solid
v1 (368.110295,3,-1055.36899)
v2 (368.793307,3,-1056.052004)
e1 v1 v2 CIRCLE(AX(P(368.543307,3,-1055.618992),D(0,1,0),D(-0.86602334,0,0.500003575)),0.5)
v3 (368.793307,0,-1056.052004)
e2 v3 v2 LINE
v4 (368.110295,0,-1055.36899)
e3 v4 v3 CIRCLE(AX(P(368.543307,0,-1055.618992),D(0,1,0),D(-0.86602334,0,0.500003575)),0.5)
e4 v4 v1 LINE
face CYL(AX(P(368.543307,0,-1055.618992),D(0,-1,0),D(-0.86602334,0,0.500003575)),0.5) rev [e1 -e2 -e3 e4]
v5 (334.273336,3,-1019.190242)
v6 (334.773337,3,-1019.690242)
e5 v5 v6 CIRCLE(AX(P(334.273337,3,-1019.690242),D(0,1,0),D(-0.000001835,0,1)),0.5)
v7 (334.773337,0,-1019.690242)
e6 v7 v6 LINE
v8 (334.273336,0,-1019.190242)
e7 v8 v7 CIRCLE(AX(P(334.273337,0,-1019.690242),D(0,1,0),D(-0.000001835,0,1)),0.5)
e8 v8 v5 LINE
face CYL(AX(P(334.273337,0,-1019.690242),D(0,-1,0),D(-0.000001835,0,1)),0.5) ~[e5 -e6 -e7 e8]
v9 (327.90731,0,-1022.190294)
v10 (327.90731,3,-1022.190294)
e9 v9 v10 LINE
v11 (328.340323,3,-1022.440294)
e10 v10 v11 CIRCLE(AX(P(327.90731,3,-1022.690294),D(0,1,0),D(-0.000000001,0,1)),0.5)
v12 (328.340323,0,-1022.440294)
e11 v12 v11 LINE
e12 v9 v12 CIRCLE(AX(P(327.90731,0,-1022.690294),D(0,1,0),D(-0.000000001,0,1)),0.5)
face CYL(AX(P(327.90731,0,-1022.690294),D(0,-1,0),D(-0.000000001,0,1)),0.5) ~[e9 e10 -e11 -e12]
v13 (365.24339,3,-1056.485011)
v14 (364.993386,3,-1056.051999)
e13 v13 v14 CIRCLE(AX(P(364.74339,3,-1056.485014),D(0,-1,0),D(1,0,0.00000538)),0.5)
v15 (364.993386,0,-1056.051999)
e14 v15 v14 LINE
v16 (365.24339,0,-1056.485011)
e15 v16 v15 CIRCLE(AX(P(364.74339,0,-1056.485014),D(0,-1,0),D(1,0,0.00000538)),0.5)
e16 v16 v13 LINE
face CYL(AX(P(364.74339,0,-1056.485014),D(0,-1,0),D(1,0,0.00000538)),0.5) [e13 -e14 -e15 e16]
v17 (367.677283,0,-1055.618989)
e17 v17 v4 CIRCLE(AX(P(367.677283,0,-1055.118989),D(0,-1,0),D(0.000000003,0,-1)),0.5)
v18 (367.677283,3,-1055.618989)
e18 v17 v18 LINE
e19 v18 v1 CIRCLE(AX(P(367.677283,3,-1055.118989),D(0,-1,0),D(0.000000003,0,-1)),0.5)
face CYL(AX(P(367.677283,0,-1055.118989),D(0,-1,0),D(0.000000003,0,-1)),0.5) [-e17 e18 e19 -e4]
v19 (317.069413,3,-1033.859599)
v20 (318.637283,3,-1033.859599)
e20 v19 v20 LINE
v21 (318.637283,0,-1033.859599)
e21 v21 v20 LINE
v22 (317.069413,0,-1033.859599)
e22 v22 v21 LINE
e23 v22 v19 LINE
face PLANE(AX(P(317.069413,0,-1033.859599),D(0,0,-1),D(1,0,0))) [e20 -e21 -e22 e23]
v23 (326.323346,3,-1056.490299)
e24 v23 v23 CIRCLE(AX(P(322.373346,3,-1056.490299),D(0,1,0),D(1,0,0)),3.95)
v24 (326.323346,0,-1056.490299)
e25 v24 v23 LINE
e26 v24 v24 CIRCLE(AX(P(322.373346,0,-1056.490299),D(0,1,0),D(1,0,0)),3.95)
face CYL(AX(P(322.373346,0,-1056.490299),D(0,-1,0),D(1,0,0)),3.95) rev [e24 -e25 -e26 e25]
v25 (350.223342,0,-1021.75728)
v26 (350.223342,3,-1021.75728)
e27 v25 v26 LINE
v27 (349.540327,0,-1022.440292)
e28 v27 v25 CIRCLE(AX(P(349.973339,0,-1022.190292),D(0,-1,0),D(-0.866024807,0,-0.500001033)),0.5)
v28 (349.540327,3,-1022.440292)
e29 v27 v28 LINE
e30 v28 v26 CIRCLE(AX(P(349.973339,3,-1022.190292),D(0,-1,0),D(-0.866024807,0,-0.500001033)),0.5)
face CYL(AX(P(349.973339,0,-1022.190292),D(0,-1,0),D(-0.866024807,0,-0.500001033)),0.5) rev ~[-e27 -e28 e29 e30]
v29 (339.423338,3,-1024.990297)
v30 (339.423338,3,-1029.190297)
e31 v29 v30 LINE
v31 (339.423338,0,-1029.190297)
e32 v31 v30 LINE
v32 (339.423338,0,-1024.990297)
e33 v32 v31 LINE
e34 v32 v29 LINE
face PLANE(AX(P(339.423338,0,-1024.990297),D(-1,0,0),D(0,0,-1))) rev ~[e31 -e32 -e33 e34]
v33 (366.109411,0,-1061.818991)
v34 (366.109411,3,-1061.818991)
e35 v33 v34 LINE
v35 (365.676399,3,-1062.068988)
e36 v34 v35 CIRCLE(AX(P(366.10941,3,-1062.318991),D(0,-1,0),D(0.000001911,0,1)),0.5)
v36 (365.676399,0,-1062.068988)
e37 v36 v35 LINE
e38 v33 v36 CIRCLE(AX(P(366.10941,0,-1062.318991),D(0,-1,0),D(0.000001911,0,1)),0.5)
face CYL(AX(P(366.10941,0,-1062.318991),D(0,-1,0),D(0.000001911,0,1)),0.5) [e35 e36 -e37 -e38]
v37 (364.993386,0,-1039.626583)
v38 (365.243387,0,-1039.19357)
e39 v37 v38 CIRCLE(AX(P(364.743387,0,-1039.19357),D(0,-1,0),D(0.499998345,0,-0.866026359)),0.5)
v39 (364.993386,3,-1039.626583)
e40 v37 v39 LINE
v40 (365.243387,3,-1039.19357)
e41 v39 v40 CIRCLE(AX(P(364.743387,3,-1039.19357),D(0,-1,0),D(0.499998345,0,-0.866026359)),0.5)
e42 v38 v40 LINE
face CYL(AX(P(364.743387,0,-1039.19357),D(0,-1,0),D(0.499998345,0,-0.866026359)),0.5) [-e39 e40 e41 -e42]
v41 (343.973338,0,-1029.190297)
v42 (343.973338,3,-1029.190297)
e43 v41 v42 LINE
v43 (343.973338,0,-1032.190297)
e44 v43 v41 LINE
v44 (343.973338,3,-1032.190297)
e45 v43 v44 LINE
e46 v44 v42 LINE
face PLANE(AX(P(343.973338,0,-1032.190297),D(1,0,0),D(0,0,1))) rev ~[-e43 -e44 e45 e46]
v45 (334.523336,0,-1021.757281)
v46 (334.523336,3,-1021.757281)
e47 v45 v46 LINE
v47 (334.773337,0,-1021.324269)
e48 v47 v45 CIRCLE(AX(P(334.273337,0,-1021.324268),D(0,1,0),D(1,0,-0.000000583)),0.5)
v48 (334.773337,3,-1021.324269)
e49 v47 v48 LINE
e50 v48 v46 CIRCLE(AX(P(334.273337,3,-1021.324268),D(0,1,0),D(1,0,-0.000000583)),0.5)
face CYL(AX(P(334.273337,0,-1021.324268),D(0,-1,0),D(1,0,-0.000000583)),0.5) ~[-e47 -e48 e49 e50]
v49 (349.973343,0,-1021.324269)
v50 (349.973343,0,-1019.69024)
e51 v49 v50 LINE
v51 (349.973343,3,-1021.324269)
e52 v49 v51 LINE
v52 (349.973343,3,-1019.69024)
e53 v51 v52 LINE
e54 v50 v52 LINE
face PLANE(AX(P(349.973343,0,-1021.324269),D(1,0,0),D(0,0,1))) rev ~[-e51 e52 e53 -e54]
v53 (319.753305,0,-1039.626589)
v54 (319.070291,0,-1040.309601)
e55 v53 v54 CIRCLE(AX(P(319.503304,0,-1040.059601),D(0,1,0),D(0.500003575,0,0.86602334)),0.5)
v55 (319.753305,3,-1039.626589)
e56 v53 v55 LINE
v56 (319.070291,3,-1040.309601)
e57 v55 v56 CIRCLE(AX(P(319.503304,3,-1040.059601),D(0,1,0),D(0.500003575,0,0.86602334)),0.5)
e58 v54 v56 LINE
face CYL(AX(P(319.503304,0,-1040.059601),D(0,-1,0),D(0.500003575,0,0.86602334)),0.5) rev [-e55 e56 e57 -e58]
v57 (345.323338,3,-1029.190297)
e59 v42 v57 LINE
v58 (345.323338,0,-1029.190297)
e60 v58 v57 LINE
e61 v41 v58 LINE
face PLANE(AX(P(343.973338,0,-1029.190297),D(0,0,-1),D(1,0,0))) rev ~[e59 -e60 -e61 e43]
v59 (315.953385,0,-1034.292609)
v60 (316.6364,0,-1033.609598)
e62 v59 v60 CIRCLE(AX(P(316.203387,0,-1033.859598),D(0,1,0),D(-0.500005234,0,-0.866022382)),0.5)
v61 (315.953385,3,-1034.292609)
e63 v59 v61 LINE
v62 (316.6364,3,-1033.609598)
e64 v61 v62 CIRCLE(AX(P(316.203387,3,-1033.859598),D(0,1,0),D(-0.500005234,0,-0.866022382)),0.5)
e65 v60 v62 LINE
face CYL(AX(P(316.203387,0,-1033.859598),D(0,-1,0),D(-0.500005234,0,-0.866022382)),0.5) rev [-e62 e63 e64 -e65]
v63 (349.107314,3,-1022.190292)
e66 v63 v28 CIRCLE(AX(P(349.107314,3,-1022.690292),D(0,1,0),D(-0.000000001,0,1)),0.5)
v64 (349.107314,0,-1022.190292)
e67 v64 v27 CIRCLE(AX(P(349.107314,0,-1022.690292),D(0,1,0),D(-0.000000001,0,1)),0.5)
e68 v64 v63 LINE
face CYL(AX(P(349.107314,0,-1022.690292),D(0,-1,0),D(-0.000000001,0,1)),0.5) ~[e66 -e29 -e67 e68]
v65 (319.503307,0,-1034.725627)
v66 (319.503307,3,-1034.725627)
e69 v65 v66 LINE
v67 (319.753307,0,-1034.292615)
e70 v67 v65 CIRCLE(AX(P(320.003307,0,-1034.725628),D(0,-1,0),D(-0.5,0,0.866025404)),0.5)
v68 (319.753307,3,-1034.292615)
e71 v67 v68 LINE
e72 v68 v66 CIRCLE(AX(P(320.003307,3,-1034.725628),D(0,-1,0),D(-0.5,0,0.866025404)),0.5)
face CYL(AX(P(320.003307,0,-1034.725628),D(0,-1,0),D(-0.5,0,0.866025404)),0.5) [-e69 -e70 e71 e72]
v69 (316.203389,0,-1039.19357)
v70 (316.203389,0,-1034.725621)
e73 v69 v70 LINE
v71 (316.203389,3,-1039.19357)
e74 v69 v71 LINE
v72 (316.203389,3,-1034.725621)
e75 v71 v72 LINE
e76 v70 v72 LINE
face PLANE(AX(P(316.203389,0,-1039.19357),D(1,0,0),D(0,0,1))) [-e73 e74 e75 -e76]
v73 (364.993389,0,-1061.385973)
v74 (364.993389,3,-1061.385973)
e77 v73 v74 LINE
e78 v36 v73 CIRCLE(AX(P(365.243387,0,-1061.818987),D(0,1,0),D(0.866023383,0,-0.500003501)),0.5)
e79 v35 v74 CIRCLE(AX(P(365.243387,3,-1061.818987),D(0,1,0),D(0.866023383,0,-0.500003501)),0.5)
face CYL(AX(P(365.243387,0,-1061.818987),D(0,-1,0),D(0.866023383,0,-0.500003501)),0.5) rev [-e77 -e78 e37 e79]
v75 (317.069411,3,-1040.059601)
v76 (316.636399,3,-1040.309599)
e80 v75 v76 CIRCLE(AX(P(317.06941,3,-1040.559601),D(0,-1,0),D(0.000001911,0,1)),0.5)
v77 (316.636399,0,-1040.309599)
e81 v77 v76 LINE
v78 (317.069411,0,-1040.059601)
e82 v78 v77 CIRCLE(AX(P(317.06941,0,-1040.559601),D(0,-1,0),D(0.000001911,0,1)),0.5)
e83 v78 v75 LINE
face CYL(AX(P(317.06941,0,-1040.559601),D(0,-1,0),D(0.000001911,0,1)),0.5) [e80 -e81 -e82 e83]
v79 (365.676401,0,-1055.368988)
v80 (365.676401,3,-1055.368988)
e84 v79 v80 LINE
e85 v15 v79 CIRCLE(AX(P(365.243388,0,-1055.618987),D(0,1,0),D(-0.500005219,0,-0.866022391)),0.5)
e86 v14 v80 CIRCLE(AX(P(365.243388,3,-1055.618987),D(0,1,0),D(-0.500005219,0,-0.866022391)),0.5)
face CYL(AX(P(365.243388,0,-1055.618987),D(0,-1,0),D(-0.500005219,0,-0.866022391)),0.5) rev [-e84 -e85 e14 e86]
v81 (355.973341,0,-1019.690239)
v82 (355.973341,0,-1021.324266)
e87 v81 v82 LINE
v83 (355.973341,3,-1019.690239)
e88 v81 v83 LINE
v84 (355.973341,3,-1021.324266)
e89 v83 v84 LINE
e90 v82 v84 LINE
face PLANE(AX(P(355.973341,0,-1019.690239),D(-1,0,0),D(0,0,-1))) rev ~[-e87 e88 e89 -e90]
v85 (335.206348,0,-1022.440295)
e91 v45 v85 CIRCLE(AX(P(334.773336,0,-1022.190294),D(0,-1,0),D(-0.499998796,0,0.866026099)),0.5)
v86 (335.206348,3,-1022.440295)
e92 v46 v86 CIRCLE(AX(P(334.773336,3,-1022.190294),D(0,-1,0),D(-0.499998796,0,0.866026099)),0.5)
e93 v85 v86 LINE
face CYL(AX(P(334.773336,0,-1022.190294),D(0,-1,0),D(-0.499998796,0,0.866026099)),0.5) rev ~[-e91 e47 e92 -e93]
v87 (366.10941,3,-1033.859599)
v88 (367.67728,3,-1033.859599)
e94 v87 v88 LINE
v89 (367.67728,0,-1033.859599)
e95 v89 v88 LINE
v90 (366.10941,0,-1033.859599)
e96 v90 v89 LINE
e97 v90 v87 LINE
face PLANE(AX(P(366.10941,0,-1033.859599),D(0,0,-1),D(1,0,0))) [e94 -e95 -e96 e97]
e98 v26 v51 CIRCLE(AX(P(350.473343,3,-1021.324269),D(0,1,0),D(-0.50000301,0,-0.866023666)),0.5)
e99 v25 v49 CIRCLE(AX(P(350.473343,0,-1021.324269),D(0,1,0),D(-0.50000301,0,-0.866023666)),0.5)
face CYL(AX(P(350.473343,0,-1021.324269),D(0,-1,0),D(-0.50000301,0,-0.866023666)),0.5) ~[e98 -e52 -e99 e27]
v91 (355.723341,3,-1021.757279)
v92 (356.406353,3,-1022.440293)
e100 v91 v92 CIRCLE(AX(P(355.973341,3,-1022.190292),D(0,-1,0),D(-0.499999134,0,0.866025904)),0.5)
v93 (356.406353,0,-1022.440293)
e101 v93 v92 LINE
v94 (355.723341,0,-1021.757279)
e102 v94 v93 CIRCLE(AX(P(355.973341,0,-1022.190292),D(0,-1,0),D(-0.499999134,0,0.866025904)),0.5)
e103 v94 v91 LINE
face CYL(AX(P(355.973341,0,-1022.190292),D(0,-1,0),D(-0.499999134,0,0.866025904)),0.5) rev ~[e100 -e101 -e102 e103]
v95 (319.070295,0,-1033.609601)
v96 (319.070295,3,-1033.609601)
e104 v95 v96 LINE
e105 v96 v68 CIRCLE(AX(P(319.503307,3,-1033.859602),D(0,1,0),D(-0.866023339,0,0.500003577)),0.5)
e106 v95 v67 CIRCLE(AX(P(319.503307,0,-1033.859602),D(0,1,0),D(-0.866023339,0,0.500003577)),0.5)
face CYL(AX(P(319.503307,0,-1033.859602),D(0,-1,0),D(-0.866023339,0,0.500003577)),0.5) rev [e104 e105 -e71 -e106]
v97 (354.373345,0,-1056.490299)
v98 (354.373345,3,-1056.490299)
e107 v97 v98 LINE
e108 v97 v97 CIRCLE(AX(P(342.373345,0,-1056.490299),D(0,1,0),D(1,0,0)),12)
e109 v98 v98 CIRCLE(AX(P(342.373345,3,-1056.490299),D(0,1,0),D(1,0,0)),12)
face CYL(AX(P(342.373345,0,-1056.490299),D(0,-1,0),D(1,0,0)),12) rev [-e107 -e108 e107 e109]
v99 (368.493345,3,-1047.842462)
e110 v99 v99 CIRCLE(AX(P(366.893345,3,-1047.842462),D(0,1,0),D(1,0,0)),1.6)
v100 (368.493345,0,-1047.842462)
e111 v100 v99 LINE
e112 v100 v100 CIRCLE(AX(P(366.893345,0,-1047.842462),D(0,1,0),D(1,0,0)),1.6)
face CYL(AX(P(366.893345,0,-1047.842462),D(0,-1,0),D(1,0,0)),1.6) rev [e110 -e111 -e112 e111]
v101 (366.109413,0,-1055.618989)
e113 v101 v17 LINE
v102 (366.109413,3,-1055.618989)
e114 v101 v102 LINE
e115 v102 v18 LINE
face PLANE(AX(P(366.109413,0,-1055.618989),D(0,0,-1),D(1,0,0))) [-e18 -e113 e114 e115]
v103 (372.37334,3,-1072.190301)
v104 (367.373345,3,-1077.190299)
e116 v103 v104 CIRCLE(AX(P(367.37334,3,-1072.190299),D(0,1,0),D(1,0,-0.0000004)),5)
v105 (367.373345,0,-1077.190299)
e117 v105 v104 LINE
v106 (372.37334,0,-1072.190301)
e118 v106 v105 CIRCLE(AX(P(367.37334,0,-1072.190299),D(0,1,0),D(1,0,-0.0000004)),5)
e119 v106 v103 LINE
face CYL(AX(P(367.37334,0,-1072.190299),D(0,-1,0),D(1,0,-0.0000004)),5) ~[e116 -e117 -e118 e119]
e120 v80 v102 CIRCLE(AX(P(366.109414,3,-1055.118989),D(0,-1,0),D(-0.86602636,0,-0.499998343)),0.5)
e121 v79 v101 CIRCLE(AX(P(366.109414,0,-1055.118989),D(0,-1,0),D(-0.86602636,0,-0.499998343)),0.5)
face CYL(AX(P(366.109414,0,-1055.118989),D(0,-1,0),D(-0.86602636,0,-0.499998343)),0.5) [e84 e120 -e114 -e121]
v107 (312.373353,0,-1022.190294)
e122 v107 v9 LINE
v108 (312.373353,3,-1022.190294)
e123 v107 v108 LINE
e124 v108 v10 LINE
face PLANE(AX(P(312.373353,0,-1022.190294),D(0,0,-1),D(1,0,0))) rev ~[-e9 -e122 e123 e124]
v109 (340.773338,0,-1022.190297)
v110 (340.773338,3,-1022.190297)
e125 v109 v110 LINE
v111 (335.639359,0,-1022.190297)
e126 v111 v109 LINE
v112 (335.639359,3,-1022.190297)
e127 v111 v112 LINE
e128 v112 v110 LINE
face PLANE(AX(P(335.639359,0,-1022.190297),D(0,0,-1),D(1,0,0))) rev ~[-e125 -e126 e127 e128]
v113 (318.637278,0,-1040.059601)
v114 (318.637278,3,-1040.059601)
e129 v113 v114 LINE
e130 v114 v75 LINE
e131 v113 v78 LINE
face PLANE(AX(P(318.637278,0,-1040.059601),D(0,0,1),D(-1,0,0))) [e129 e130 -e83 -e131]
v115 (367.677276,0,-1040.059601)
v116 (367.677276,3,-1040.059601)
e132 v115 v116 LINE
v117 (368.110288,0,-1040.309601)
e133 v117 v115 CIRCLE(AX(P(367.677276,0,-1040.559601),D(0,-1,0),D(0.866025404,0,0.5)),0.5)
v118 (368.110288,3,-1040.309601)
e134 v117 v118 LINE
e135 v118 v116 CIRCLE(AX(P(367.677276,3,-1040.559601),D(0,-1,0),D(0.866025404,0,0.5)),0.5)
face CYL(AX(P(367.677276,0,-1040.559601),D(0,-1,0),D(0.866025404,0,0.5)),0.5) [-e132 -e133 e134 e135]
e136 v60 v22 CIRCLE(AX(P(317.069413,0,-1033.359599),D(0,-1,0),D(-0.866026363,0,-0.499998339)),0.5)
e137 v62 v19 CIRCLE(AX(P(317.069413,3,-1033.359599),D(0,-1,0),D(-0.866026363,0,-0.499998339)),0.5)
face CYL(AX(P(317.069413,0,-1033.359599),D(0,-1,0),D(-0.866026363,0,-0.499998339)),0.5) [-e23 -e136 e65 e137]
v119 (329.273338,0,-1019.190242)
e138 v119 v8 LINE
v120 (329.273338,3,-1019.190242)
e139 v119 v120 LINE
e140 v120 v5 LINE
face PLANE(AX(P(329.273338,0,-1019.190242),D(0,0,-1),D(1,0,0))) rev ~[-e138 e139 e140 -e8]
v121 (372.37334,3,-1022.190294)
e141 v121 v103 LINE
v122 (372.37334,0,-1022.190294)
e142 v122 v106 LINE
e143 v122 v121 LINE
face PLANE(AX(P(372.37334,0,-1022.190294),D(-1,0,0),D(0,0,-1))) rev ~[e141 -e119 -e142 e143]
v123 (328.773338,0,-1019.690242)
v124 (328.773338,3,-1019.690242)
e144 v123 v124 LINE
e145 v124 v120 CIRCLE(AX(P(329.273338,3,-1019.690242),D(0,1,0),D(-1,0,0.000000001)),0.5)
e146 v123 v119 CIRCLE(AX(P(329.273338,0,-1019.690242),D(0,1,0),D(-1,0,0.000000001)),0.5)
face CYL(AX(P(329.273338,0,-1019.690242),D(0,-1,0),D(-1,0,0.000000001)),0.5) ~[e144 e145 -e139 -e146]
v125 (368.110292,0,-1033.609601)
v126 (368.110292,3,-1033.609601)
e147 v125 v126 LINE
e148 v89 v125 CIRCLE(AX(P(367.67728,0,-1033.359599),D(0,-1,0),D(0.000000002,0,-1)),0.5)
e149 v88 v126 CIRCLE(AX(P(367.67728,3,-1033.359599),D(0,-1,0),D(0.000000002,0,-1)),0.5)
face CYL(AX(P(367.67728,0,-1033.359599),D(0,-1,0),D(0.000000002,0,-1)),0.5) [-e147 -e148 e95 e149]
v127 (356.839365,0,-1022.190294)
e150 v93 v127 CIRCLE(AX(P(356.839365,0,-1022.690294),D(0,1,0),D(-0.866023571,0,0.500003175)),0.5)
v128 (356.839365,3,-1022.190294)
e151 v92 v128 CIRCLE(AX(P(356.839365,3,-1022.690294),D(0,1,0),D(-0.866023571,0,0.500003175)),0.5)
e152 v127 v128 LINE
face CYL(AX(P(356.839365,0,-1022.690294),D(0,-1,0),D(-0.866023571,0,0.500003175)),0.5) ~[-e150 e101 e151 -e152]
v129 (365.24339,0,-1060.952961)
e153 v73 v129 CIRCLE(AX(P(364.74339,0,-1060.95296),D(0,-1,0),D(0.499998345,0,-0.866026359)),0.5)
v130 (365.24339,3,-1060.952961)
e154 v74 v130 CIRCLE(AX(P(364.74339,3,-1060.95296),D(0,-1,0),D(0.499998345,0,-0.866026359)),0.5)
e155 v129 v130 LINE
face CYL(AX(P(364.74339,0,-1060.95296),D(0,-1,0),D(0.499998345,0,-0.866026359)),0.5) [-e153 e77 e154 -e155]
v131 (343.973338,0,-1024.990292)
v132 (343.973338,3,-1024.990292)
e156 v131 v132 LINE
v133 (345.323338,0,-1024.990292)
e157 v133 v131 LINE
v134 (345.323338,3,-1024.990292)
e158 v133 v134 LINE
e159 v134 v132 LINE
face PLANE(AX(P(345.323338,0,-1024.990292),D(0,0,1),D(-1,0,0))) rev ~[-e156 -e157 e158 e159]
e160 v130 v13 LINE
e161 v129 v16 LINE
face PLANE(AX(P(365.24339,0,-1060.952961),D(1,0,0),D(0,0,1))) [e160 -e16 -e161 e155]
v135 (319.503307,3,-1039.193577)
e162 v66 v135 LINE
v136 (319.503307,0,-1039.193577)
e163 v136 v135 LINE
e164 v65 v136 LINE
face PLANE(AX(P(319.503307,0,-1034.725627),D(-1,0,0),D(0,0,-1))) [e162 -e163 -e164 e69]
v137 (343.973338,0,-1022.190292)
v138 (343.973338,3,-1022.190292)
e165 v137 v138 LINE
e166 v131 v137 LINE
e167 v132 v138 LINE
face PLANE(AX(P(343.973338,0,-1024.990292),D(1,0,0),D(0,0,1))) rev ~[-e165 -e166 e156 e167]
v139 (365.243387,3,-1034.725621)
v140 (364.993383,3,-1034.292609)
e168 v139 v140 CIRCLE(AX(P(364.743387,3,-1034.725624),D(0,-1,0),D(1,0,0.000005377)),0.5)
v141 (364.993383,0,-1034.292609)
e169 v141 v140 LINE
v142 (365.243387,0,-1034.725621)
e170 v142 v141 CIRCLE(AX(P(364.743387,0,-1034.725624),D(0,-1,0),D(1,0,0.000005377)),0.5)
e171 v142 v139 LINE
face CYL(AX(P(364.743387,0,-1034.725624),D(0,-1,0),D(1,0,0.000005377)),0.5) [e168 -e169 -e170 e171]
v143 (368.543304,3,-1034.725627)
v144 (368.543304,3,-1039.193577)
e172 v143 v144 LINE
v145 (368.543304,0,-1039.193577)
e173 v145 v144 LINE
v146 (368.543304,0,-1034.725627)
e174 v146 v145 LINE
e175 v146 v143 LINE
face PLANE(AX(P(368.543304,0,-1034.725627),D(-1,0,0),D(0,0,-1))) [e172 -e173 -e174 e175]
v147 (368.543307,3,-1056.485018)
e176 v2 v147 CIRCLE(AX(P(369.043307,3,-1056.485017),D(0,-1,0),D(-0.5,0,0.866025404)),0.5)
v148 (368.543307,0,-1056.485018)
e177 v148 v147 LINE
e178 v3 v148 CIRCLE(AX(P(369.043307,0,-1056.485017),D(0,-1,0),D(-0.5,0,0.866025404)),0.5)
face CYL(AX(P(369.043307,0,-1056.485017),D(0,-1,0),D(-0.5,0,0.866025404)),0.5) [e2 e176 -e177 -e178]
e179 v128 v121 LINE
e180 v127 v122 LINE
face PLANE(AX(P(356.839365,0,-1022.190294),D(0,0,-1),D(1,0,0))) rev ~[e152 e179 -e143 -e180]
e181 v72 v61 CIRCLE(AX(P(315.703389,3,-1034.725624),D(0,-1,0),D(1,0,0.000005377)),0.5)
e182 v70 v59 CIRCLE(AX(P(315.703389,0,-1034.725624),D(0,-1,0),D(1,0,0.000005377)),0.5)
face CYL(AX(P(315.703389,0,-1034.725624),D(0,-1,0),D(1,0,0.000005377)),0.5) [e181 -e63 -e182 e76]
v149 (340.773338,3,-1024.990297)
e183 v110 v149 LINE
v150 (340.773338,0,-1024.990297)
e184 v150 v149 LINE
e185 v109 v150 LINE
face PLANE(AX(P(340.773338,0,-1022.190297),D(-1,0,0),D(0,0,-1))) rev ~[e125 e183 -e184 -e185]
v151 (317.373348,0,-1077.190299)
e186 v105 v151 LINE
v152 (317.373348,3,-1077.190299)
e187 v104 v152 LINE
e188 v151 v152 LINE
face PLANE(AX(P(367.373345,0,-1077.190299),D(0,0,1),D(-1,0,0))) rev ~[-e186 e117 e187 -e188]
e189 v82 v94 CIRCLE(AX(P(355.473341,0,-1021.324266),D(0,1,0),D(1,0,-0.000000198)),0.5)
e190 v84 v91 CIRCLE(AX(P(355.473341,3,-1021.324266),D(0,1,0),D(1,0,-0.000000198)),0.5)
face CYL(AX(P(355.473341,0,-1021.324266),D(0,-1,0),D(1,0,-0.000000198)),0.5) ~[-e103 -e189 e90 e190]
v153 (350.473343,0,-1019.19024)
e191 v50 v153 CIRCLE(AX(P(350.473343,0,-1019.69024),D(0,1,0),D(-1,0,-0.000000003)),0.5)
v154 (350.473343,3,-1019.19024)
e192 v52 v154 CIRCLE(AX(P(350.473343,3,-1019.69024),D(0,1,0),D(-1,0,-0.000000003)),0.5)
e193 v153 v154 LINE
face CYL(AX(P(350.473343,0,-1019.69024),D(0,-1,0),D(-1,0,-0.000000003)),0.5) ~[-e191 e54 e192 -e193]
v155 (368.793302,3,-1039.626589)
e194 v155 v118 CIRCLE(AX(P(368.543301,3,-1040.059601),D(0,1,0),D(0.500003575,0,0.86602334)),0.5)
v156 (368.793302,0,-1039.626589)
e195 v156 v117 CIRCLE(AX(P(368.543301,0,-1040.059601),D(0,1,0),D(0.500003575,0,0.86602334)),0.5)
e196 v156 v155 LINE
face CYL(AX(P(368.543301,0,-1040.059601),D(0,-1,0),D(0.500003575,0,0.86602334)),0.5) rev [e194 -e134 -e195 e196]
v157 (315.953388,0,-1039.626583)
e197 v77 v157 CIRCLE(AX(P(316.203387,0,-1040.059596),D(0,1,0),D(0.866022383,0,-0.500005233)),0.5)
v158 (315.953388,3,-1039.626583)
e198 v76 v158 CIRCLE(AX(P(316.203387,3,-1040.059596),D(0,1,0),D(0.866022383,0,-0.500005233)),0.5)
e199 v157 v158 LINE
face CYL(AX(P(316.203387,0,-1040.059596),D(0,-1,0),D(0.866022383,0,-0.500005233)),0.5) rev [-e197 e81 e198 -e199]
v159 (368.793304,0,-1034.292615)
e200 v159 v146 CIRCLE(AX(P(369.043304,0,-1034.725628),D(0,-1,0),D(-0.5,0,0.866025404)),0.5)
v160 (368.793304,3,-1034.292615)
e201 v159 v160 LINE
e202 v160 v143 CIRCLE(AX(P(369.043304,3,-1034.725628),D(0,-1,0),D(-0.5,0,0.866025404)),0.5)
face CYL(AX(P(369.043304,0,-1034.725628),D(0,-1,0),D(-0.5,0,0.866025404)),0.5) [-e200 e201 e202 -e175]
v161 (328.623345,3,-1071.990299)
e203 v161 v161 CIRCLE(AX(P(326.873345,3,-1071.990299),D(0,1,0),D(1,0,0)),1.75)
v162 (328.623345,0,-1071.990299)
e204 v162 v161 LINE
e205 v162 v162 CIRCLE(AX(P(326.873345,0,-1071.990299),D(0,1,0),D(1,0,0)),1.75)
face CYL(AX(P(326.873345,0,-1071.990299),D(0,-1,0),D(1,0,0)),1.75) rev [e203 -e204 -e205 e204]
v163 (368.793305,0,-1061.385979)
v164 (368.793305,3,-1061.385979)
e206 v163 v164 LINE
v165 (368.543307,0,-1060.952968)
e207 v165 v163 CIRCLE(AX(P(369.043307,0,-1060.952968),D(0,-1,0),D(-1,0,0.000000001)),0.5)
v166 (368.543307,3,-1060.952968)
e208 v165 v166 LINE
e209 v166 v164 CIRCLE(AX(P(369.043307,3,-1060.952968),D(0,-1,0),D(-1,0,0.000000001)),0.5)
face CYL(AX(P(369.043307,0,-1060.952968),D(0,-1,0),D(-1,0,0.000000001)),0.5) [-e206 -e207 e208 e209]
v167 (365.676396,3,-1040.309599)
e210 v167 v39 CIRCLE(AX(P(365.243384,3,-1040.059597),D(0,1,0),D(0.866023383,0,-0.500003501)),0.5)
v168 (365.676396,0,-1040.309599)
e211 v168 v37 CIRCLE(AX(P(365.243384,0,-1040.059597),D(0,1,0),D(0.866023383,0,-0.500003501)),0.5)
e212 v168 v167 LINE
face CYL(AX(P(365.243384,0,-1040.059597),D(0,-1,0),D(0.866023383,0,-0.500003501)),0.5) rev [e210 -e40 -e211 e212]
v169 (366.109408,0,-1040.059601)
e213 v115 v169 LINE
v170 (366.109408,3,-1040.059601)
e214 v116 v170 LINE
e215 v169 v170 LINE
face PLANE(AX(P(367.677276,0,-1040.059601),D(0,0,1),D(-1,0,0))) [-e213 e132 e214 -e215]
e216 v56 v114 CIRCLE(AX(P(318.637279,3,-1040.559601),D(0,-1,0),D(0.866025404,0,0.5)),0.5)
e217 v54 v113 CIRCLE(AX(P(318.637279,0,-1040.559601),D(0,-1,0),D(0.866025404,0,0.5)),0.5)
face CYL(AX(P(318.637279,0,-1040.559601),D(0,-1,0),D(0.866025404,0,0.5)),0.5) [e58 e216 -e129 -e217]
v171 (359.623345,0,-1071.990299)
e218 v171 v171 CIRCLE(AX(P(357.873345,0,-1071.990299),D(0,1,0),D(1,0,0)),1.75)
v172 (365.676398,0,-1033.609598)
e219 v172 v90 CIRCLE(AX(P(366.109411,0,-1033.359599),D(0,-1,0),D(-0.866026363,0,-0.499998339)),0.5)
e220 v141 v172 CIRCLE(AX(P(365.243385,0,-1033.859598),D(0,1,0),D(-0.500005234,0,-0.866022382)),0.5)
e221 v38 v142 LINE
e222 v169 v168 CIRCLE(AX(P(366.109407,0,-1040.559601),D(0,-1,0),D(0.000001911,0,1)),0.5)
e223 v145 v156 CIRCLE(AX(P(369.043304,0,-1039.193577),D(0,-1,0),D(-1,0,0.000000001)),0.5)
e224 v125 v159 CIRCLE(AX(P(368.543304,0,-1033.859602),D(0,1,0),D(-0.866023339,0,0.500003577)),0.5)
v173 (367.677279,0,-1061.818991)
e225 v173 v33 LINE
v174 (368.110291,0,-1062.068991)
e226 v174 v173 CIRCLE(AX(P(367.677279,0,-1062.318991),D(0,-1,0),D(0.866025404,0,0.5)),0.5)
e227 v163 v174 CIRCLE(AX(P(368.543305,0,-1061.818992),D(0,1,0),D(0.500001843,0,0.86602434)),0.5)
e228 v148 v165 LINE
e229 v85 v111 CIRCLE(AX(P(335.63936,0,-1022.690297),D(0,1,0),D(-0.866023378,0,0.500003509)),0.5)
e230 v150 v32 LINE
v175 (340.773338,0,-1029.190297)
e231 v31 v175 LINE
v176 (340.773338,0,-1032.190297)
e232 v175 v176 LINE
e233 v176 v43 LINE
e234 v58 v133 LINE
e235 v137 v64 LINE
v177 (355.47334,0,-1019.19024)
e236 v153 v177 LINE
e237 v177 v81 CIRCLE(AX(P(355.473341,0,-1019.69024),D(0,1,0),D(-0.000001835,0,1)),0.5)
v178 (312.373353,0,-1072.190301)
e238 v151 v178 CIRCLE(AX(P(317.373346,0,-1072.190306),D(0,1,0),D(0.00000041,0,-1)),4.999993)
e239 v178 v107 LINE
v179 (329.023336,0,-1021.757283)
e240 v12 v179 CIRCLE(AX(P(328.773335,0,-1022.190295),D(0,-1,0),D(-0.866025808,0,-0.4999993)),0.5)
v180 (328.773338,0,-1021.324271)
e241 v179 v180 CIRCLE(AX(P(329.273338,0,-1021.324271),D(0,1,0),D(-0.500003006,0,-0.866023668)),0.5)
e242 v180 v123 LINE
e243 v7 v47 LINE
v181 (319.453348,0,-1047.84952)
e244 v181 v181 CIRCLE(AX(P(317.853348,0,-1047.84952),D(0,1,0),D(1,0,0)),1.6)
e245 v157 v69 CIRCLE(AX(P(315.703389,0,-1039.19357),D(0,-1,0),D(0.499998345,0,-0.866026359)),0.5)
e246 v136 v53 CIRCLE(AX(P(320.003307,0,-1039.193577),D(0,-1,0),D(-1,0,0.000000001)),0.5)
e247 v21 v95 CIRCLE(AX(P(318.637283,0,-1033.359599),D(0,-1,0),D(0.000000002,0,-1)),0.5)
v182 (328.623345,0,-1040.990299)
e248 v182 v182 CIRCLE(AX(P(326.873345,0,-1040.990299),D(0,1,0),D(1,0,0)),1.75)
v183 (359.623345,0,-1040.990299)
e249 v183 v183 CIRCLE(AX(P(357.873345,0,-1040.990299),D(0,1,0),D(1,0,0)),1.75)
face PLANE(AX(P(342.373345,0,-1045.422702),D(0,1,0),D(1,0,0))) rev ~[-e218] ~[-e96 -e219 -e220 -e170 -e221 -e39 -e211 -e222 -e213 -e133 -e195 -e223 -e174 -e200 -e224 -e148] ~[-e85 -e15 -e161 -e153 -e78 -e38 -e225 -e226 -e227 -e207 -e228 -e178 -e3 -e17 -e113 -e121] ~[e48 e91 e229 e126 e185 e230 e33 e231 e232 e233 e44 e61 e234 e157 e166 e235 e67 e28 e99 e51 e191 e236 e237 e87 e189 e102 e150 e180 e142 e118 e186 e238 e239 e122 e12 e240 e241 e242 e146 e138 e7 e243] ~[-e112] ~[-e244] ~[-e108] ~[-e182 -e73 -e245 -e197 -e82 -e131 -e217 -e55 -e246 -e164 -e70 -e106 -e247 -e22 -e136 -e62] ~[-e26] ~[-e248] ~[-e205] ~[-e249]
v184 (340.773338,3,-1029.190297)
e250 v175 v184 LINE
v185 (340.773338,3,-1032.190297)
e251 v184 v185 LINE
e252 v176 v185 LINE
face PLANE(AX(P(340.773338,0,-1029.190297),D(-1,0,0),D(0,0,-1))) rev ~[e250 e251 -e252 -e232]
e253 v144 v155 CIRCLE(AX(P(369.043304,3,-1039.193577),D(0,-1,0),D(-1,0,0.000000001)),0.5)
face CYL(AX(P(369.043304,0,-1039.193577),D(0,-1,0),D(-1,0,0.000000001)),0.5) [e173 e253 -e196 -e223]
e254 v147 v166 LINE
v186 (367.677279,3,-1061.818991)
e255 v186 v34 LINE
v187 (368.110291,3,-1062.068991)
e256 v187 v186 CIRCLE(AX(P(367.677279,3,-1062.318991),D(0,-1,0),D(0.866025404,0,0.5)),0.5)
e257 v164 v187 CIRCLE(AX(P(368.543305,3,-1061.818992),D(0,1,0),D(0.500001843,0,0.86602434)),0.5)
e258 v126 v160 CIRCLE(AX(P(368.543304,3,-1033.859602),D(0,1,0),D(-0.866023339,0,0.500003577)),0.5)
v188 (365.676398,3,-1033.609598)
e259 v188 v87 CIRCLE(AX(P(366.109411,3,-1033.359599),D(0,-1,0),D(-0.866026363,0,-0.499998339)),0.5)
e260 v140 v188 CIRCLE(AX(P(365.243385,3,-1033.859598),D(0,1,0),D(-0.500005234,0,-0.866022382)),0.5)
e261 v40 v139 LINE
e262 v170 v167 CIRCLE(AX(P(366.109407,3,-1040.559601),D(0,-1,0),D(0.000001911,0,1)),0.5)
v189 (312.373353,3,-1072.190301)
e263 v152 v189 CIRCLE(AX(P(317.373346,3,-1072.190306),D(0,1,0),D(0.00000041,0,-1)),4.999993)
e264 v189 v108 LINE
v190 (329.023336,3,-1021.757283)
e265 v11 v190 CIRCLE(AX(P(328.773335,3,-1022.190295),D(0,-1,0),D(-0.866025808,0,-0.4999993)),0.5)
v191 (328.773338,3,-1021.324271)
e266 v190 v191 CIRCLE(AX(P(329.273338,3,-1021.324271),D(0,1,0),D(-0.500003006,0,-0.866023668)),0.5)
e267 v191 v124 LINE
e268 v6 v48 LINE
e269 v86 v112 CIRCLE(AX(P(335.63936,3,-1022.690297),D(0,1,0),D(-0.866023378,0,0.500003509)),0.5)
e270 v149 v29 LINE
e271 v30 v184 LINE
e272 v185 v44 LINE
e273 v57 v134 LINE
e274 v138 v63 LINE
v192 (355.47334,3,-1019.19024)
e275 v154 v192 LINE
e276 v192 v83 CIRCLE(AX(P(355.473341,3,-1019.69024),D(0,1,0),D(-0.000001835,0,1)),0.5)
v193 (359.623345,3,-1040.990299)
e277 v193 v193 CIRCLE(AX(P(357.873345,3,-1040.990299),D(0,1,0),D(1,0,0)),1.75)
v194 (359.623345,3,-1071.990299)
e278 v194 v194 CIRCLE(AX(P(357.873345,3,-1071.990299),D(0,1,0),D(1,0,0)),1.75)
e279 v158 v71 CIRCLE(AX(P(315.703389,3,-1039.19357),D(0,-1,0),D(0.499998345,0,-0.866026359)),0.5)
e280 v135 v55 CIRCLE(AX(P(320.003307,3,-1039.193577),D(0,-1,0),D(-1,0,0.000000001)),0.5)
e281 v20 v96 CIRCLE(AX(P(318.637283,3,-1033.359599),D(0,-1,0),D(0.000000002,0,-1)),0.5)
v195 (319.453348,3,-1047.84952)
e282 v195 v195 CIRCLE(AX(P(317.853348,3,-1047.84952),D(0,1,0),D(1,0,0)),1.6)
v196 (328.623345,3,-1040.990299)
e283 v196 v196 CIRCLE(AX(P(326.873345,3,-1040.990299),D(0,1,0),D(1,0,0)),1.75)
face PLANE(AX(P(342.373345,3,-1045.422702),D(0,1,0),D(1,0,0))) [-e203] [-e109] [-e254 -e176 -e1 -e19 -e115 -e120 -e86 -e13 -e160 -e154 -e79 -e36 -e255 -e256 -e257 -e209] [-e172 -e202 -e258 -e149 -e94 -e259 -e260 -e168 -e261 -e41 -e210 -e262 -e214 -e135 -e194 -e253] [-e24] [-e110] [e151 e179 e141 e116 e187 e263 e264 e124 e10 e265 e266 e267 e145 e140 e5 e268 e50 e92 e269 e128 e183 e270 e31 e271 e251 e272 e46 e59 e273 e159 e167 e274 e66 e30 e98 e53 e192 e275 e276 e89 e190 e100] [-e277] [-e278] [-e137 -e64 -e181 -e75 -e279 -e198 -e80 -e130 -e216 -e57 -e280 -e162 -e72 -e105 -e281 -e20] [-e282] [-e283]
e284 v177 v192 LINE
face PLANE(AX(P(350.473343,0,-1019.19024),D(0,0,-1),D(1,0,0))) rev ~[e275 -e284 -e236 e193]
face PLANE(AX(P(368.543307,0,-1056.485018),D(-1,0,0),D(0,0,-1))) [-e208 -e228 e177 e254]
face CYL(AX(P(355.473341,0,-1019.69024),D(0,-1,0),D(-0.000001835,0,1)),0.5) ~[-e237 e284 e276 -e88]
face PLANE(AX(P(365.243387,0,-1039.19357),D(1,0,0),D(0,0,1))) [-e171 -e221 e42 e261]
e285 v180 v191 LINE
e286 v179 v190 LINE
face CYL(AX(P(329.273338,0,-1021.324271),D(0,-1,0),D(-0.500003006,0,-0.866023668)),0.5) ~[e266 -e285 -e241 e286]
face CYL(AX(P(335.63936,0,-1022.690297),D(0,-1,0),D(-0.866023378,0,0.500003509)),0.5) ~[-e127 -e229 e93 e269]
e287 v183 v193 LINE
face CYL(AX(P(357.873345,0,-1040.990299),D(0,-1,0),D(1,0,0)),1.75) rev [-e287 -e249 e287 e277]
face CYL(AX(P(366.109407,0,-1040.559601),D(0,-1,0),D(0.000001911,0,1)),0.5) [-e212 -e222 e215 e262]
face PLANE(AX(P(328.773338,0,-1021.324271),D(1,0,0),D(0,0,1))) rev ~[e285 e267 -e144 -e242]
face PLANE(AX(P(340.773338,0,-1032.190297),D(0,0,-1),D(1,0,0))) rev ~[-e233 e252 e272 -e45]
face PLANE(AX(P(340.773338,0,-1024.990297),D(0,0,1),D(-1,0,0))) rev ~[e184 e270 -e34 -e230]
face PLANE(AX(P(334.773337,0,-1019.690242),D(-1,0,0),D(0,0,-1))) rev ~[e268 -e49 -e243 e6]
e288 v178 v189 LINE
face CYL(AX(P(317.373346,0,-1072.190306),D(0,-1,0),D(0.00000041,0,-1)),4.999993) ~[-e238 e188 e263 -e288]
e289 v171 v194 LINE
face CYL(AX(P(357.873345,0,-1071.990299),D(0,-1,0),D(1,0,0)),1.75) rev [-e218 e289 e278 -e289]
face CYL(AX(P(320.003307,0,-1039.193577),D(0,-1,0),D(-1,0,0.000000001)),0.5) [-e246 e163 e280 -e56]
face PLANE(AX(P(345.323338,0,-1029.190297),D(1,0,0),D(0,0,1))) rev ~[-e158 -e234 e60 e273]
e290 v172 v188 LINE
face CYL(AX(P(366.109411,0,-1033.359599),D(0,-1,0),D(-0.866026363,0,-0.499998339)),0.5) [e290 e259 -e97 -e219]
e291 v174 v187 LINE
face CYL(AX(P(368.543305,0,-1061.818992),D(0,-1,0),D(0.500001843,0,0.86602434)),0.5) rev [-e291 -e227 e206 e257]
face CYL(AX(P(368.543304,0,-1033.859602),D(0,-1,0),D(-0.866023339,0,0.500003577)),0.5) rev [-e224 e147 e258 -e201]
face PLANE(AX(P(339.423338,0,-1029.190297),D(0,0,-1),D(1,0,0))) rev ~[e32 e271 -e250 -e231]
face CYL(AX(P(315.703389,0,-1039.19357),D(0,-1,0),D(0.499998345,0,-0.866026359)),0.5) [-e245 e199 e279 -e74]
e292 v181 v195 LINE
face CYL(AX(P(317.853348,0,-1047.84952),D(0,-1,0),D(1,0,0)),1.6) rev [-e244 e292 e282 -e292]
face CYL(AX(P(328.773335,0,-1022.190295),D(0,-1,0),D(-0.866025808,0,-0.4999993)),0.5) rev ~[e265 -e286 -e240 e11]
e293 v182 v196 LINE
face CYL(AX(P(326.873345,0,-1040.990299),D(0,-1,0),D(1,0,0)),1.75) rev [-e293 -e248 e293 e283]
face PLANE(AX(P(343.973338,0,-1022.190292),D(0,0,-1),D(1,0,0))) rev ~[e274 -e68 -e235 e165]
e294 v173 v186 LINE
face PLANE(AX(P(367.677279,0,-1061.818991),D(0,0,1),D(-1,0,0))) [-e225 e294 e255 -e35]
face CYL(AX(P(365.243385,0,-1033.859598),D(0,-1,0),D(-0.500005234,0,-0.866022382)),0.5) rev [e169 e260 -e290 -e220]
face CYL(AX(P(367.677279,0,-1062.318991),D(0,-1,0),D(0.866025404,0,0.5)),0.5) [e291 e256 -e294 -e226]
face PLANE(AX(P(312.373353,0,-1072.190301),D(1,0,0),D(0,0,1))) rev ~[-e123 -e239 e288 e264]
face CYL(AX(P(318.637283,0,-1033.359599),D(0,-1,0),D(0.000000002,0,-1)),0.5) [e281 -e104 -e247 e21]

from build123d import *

# Parameters (mm, degrees)
SKETCH1_R           = 1.6
SKETCH1_R_2         = 1.75
SKETCH1_R_3         = 3.95
SKETCH1_R_4         = 12
BOSS_EXTRUDE1_DEPTH = 3


with BuildPart() as part:
    # Sketch1 → Boss-Extrude1 (new body)
    with BuildSketch(Plane(origin=(0, 0, 0), x_dir=(1, 0, 0), z_dir=(0, 1, 0))):
        with BuildLine():
            Line((312.373352996, 1022.190294437), (327.907309833, 1022.190294437))
            ThreePointArc((327.907309833, 1022.190294437), (328.157309833, 1022.257281735), (328.340322535, 1022.440294437))
            ThreePointArc((328.340322535, 1022.440294437), (329.126888323, 1022.543848684), (329.023336329, 1021.757282599))
            ThreePointArc((329.023336329, 1021.757282599), (328.840324865, 1021.574270305), (328.773337833, 1021.324271437))
            Line((328.773337833, 1021.324271437), (328.773337833, 1019.690242437))
            ThreePointArc((328.773337833, 1019.690242437), (328.919784442, 1019.336689047), (329.273337833, 1019.190242437))
            Line((329.273337833, 1019.190242437), (334.273335833, 1019.190242437))
            ThreePointArc((334.273335833, 1019.190242437), (334.626889492, 1019.336688397), (334.773336751, 1019.690241519))
            Line((334.773336751, 1019.690241519), (334.773336751, 1021.324268519))
            ThreePointArc((334.773336751, 1021.324268519), (334.706349307, 1021.57426848), (334.523336498, 1021.757281075))
            ThreePointArc((334.523336498, 1021.757281075), (334.419781792, 1022.543846802), (335.206347937, 1022.440295269))
            ThreePointArc((335.206347937, 1022.440295269), (335.389360338, 1022.257283911), (335.639359245, 1022.190297025))
            Line((335.639359245, 1022.190297025), (340.773337745, 1022.190297025))
            Line((340.773337745, 1022.190297025), (340.773337745, 1024.990297025))
            Line((340.773337745, 1024.990297025), (339.423337745, 1024.990297025))
            Line((339.423337745, 1024.990297025), (339.423337745, 1029.190297025))
            Line((339.423337745, 1029.190297025), (340.773337745, 1029.190297025))
            Line((340.773337745, 1029.190297025), (340.773337745, 1032.190297025))
            Line((340.773337745, 1032.190297025), (343.973337745, 1032.190297025))
            Line((343.973337745, 1032.190297025), (343.973337745, 1029.190297025))
            Line((343.973337745, 1029.190297025), (345.323337745, 1029.190297025))
            Line((345.323337745, 1029.190297025), (345.323337745, 1024.990292188))
            Line((345.323337745, 1024.990292188), (343.973337745, 1024.990292188))
            Line((343.973337745, 1024.990292188), (343.973337745, 1022.190292188))
            Line((343.973337745, 1022.190292188), (349.107314245, 1022.190292188))
            ThreePointArc((349.107314245, 1022.190292188), (349.357314245, 1022.257279486), (349.540326947, 1022.440292188))
            ThreePointArc((349.540326947, 1022.440292188), (350.326891976, 1022.543845827), (350.223341741, 1021.75728035))
            ThreePointArc((350.223341741, 1021.75728035), (350.040330277, 1021.574268055), (349.973343245, 1021.324269188))
            Line((349.973343245, 1021.324269188), (349.973343245, 1019.690240188))
            ThreePointArc((349.973343245, 1019.690240188), (350.119789854, 1019.336686797), (350.473343245, 1019.190240188))
            Line((350.473343245, 1019.190240188), (355.473340245, 1019.190240188))
            ThreePointArc((355.473340245, 1019.190240188), (355.826893904, 1019.336686148), (355.973341163, 1019.69023927))
            Line((355.973341163, 1019.69023927), (355.973341163, 1021.32426627))
            ThreePointArc((355.973341163, 1021.32426627), (355.906353816, 1021.574266257), (355.723341079, 1021.757278924))
            ThreePointArc((355.723341079, 1021.757278924), (355.619786681, 1022.543844692), (356.406352785, 1022.44029285))
            ThreePointArc((356.406352785, 1022.44029285), (356.589365548, 1022.257281171), (356.839364996, 1022.190294437))
            Line((356.839364996, 1022.190294437), (372.373340046, 1022.190294437))
            Line((372.373340046, 1022.190294437), (372.373340046, 1072.190301225))
            ThreePointArc((372.373340046, 1072.190301225), (370.908875012, 1075.72583207), (367.373345046, 1077.190299225))
            Line((367.373345046, 1077.190299225), (317.373348046, 1077.190299225))
            ThreePointArc((317.373348046, 1077.190299225), (313.837816014, 1075.725834155), (312.373352996, 1072.190301275))
            Line((312.373352996, 1072.190301275), (312.373352996, 1022.190294437))
        make_face()
        with Locations((366.893344996, 1047.842461747)):
            Circle(SKETCH1_R, mode=Mode.SUBTRACT)
        with Locations((357.873345496, 1071.990299275)):
            Circle(SKETCH1_R_2, mode=Mode.SUBTRACT)
        with Locations((357.873345496, 1040.990299275)):
            Circle(SKETCH1_R_2, mode=Mode.SUBTRACT)
        with Locations((322.373345996, 1056.490299275)):
            Circle(SKETCH1_R_3, mode=Mode.SUBTRACT)
        with Locations((342.373345496, 1056.490299275)):
            Circle(SKETCH1_R_4, mode=Mode.SUBTRACT)
        with Locations((326.873345496, 1071.990299275)):
            Circle(SKETCH1_R_2, mode=Mode.SUBTRACT)
        with Locations((326.873345496, 1040.990299275)):
            Circle(SKETCH1_R_2, mode=Mode.SUBTRACT)
        with Locations((317.853347996, 1047.84952041)):
            Circle(SKETCH1_R, mode=Mode.SUBTRACT)
        with BuildLine():
            Line((365.243389653, 1060.95296097), (365.243389653, 1056.48501097))
            ThreePointArc((365.243389653, 1056.48501097), (365.176400533, 1056.235010504), (364.993385671, 1056.051998658))
            ThreePointArc((364.993385671, 1056.051998658), (364.889836092, 1055.26543287), (365.676401176, 1055.368987799))
            ThreePointArc((365.676401176, 1055.368987799), (365.859413353, 1055.55200075), (366.109412996, 1055.618988627))
            Line((366.109412996, 1055.618988627), (367.677282996, 1055.618988627))
            ThreePointArc((367.677282996, 1055.618988627), (367.927282247, 1055.552001761), (368.110294834, 1055.368990124))
            ThreePointArc((368.110294834, 1055.368990124), (368.896860423, 1055.26543905), (368.793306996, 1056.052004329))
            ThreePointArc((368.793306996, 1056.052004329), (368.610294145, 1056.235017289), (368.543306996, 1056.485017627))
            Line((368.543306996, 1056.485017627), (368.543306996, 1060.952967627))
            ThreePointArc((368.543306996, 1060.952967627), (368.610293862, 1061.202966879), (368.793305499, 1061.385979465))
            ThreePointArc((368.793305499, 1061.385979465), (368.89685718, 1062.172545813), (368.110291294, 1062.068990627))
            ThreePointArc((368.110291294, 1062.068990627), (367.927278767, 1061.885978026), (367.677278996, 1061.818990627))
            Line((367.677278996, 1061.818990627), (366.109410996, 1061.818990627))
            ThreePointArc((366.109410996, 1061.818990627), (365.859411616, 1061.885977015), (365.676398679, 1062.068988302))
            ThreePointArc((365.676398679, 1062.068988302), (364.889832133, 1062.172538478), (364.993388824, 1061.38597279))
            ThreePointArc((364.993388824, 1061.38597279), (365.176401775, 1061.202960613), (365.243389653, 1060.95296097))
        make_face(mode=Mode.SUBTRACT)
        with BuildLine():
            Line((316.203388653, 1039.193570463), (316.203388653, 1034.725621463))
            ThreePointArc((316.203388653, 1034.725621463), (316.136399531, 1034.475620993), (315.953384663, 1034.292609147))
            ThreePointArc((315.953384663, 1034.292609147), (315.849835095, 1033.506043359), (316.636400176, 1033.609598291))
            ThreePointArc((316.636400176, 1033.609598291), (316.819412786, 1033.792611493), (317.069412996, 1033.85959912))
            Line((317.069412996, 1033.85959912), (318.637282996, 1033.85959912))
            ThreePointArc((318.637282996, 1033.85959912), (318.887282247, 1033.792612254), (319.070294834, 1033.609600616))
            ThreePointArc((319.070294834, 1033.609600616), (319.856860423, 1033.506049543), (319.753306996, 1034.292614822))
            ThreePointArc((319.753306996, 1034.292614822), (319.570294395, 1034.475627349), (319.503306996, 1034.72562712))
            Line((319.503306996, 1034.72562712), (319.503306996, 1039.19357712))
            ThreePointArc((319.503306996, 1039.19357712), (319.570293862, 1039.443576372), (319.753305499, 1039.626588958))
            ThreePointArc((319.753305499, 1039.626588958), (319.856856573, 1040.413154547), (319.070291294, 1040.30960112))
            ThreePointArc((319.070291294, 1040.30960112), (318.887278334, 1040.126588269), (318.637277996, 1040.05960112))
            Line((318.637277996, 1040.05960112), (317.069410996, 1040.05960112))
            ThreePointArc((317.069410996, 1040.05960112), (316.819411616, 1040.126587508), (316.636398679, 1040.309598795))
            ThreePointArc((316.636398679, 1040.309598795), (315.849832892, 1040.413148364), (315.953387824, 1039.626583283))
            ThreePointArc((315.953387824, 1039.626583283), (316.136401025, 1039.443570673), (316.203388653, 1039.193570463))
        make_face(mode=Mode.SUBTRACT)
        with BuildLine():
            Line((368.543303996, 1034.72562712), (368.543303996, 1039.19357712))
            ThreePointArc((368.543303996, 1039.19357712), (368.610290862, 1039.443576372), (368.793302499, 1039.626588958))
            ThreePointArc((368.793302499, 1039.626588958), (368.896853573, 1040.413154547), (368.110288294, 1040.30960112))
            ThreePointArc((368.110288294, 1040.30960112), (367.927275767, 1040.126588519), (367.677275996, 1040.05960112))
            Line((367.677275996, 1040.05960112), (366.109407996, 1040.05960112))
            ThreePointArc((366.109407996, 1040.05960112), (365.859408616, 1040.126587508), (365.676395679, 1040.309598795))
            ThreePointArc((365.676395679, 1040.309598795), (364.889829133, 1040.413148971), (364.993385824, 1039.626583283))
            ThreePointArc((364.993385824, 1039.626583283), (365.176399025, 1039.443570673), (365.243386653, 1039.193570463))
            Line((365.243386653, 1039.193570463), (365.243386653, 1034.725621463))
            ThreePointArc((365.243386653, 1034.725621463), (365.176397531, 1034.475620993), (364.993382663, 1034.292609147))
            ThreePointArc((364.993382663, 1034.292609147), (364.889833095, 1033.506043359), (365.676398176, 1033.609598291))
            ThreePointArc((365.676398176, 1033.609598291), (365.859410353, 1033.792611243), (366.109409996, 1033.85959912))
            Line((366.109409996, 1033.85959912), (367.677279996, 1033.85959912))
            ThreePointArc((367.677279996, 1033.85959912), (367.927279247, 1033.792612254), (368.110291834, 1033.609600616))
            ThreePointArc((368.110291834, 1033.609600616), (368.896857423, 1033.506049543), (368.793303996, 1034.292614822))
            ThreePointArc((368.793303996, 1034.292614822), (368.610291395, 1034.475627349), (368.543303996, 1034.72562712))
        make_face(mode=Mode.SUBTRACT)
    extrude(amount=BOSS_EXTRUDE1_DEPTH)


solid = part.part
